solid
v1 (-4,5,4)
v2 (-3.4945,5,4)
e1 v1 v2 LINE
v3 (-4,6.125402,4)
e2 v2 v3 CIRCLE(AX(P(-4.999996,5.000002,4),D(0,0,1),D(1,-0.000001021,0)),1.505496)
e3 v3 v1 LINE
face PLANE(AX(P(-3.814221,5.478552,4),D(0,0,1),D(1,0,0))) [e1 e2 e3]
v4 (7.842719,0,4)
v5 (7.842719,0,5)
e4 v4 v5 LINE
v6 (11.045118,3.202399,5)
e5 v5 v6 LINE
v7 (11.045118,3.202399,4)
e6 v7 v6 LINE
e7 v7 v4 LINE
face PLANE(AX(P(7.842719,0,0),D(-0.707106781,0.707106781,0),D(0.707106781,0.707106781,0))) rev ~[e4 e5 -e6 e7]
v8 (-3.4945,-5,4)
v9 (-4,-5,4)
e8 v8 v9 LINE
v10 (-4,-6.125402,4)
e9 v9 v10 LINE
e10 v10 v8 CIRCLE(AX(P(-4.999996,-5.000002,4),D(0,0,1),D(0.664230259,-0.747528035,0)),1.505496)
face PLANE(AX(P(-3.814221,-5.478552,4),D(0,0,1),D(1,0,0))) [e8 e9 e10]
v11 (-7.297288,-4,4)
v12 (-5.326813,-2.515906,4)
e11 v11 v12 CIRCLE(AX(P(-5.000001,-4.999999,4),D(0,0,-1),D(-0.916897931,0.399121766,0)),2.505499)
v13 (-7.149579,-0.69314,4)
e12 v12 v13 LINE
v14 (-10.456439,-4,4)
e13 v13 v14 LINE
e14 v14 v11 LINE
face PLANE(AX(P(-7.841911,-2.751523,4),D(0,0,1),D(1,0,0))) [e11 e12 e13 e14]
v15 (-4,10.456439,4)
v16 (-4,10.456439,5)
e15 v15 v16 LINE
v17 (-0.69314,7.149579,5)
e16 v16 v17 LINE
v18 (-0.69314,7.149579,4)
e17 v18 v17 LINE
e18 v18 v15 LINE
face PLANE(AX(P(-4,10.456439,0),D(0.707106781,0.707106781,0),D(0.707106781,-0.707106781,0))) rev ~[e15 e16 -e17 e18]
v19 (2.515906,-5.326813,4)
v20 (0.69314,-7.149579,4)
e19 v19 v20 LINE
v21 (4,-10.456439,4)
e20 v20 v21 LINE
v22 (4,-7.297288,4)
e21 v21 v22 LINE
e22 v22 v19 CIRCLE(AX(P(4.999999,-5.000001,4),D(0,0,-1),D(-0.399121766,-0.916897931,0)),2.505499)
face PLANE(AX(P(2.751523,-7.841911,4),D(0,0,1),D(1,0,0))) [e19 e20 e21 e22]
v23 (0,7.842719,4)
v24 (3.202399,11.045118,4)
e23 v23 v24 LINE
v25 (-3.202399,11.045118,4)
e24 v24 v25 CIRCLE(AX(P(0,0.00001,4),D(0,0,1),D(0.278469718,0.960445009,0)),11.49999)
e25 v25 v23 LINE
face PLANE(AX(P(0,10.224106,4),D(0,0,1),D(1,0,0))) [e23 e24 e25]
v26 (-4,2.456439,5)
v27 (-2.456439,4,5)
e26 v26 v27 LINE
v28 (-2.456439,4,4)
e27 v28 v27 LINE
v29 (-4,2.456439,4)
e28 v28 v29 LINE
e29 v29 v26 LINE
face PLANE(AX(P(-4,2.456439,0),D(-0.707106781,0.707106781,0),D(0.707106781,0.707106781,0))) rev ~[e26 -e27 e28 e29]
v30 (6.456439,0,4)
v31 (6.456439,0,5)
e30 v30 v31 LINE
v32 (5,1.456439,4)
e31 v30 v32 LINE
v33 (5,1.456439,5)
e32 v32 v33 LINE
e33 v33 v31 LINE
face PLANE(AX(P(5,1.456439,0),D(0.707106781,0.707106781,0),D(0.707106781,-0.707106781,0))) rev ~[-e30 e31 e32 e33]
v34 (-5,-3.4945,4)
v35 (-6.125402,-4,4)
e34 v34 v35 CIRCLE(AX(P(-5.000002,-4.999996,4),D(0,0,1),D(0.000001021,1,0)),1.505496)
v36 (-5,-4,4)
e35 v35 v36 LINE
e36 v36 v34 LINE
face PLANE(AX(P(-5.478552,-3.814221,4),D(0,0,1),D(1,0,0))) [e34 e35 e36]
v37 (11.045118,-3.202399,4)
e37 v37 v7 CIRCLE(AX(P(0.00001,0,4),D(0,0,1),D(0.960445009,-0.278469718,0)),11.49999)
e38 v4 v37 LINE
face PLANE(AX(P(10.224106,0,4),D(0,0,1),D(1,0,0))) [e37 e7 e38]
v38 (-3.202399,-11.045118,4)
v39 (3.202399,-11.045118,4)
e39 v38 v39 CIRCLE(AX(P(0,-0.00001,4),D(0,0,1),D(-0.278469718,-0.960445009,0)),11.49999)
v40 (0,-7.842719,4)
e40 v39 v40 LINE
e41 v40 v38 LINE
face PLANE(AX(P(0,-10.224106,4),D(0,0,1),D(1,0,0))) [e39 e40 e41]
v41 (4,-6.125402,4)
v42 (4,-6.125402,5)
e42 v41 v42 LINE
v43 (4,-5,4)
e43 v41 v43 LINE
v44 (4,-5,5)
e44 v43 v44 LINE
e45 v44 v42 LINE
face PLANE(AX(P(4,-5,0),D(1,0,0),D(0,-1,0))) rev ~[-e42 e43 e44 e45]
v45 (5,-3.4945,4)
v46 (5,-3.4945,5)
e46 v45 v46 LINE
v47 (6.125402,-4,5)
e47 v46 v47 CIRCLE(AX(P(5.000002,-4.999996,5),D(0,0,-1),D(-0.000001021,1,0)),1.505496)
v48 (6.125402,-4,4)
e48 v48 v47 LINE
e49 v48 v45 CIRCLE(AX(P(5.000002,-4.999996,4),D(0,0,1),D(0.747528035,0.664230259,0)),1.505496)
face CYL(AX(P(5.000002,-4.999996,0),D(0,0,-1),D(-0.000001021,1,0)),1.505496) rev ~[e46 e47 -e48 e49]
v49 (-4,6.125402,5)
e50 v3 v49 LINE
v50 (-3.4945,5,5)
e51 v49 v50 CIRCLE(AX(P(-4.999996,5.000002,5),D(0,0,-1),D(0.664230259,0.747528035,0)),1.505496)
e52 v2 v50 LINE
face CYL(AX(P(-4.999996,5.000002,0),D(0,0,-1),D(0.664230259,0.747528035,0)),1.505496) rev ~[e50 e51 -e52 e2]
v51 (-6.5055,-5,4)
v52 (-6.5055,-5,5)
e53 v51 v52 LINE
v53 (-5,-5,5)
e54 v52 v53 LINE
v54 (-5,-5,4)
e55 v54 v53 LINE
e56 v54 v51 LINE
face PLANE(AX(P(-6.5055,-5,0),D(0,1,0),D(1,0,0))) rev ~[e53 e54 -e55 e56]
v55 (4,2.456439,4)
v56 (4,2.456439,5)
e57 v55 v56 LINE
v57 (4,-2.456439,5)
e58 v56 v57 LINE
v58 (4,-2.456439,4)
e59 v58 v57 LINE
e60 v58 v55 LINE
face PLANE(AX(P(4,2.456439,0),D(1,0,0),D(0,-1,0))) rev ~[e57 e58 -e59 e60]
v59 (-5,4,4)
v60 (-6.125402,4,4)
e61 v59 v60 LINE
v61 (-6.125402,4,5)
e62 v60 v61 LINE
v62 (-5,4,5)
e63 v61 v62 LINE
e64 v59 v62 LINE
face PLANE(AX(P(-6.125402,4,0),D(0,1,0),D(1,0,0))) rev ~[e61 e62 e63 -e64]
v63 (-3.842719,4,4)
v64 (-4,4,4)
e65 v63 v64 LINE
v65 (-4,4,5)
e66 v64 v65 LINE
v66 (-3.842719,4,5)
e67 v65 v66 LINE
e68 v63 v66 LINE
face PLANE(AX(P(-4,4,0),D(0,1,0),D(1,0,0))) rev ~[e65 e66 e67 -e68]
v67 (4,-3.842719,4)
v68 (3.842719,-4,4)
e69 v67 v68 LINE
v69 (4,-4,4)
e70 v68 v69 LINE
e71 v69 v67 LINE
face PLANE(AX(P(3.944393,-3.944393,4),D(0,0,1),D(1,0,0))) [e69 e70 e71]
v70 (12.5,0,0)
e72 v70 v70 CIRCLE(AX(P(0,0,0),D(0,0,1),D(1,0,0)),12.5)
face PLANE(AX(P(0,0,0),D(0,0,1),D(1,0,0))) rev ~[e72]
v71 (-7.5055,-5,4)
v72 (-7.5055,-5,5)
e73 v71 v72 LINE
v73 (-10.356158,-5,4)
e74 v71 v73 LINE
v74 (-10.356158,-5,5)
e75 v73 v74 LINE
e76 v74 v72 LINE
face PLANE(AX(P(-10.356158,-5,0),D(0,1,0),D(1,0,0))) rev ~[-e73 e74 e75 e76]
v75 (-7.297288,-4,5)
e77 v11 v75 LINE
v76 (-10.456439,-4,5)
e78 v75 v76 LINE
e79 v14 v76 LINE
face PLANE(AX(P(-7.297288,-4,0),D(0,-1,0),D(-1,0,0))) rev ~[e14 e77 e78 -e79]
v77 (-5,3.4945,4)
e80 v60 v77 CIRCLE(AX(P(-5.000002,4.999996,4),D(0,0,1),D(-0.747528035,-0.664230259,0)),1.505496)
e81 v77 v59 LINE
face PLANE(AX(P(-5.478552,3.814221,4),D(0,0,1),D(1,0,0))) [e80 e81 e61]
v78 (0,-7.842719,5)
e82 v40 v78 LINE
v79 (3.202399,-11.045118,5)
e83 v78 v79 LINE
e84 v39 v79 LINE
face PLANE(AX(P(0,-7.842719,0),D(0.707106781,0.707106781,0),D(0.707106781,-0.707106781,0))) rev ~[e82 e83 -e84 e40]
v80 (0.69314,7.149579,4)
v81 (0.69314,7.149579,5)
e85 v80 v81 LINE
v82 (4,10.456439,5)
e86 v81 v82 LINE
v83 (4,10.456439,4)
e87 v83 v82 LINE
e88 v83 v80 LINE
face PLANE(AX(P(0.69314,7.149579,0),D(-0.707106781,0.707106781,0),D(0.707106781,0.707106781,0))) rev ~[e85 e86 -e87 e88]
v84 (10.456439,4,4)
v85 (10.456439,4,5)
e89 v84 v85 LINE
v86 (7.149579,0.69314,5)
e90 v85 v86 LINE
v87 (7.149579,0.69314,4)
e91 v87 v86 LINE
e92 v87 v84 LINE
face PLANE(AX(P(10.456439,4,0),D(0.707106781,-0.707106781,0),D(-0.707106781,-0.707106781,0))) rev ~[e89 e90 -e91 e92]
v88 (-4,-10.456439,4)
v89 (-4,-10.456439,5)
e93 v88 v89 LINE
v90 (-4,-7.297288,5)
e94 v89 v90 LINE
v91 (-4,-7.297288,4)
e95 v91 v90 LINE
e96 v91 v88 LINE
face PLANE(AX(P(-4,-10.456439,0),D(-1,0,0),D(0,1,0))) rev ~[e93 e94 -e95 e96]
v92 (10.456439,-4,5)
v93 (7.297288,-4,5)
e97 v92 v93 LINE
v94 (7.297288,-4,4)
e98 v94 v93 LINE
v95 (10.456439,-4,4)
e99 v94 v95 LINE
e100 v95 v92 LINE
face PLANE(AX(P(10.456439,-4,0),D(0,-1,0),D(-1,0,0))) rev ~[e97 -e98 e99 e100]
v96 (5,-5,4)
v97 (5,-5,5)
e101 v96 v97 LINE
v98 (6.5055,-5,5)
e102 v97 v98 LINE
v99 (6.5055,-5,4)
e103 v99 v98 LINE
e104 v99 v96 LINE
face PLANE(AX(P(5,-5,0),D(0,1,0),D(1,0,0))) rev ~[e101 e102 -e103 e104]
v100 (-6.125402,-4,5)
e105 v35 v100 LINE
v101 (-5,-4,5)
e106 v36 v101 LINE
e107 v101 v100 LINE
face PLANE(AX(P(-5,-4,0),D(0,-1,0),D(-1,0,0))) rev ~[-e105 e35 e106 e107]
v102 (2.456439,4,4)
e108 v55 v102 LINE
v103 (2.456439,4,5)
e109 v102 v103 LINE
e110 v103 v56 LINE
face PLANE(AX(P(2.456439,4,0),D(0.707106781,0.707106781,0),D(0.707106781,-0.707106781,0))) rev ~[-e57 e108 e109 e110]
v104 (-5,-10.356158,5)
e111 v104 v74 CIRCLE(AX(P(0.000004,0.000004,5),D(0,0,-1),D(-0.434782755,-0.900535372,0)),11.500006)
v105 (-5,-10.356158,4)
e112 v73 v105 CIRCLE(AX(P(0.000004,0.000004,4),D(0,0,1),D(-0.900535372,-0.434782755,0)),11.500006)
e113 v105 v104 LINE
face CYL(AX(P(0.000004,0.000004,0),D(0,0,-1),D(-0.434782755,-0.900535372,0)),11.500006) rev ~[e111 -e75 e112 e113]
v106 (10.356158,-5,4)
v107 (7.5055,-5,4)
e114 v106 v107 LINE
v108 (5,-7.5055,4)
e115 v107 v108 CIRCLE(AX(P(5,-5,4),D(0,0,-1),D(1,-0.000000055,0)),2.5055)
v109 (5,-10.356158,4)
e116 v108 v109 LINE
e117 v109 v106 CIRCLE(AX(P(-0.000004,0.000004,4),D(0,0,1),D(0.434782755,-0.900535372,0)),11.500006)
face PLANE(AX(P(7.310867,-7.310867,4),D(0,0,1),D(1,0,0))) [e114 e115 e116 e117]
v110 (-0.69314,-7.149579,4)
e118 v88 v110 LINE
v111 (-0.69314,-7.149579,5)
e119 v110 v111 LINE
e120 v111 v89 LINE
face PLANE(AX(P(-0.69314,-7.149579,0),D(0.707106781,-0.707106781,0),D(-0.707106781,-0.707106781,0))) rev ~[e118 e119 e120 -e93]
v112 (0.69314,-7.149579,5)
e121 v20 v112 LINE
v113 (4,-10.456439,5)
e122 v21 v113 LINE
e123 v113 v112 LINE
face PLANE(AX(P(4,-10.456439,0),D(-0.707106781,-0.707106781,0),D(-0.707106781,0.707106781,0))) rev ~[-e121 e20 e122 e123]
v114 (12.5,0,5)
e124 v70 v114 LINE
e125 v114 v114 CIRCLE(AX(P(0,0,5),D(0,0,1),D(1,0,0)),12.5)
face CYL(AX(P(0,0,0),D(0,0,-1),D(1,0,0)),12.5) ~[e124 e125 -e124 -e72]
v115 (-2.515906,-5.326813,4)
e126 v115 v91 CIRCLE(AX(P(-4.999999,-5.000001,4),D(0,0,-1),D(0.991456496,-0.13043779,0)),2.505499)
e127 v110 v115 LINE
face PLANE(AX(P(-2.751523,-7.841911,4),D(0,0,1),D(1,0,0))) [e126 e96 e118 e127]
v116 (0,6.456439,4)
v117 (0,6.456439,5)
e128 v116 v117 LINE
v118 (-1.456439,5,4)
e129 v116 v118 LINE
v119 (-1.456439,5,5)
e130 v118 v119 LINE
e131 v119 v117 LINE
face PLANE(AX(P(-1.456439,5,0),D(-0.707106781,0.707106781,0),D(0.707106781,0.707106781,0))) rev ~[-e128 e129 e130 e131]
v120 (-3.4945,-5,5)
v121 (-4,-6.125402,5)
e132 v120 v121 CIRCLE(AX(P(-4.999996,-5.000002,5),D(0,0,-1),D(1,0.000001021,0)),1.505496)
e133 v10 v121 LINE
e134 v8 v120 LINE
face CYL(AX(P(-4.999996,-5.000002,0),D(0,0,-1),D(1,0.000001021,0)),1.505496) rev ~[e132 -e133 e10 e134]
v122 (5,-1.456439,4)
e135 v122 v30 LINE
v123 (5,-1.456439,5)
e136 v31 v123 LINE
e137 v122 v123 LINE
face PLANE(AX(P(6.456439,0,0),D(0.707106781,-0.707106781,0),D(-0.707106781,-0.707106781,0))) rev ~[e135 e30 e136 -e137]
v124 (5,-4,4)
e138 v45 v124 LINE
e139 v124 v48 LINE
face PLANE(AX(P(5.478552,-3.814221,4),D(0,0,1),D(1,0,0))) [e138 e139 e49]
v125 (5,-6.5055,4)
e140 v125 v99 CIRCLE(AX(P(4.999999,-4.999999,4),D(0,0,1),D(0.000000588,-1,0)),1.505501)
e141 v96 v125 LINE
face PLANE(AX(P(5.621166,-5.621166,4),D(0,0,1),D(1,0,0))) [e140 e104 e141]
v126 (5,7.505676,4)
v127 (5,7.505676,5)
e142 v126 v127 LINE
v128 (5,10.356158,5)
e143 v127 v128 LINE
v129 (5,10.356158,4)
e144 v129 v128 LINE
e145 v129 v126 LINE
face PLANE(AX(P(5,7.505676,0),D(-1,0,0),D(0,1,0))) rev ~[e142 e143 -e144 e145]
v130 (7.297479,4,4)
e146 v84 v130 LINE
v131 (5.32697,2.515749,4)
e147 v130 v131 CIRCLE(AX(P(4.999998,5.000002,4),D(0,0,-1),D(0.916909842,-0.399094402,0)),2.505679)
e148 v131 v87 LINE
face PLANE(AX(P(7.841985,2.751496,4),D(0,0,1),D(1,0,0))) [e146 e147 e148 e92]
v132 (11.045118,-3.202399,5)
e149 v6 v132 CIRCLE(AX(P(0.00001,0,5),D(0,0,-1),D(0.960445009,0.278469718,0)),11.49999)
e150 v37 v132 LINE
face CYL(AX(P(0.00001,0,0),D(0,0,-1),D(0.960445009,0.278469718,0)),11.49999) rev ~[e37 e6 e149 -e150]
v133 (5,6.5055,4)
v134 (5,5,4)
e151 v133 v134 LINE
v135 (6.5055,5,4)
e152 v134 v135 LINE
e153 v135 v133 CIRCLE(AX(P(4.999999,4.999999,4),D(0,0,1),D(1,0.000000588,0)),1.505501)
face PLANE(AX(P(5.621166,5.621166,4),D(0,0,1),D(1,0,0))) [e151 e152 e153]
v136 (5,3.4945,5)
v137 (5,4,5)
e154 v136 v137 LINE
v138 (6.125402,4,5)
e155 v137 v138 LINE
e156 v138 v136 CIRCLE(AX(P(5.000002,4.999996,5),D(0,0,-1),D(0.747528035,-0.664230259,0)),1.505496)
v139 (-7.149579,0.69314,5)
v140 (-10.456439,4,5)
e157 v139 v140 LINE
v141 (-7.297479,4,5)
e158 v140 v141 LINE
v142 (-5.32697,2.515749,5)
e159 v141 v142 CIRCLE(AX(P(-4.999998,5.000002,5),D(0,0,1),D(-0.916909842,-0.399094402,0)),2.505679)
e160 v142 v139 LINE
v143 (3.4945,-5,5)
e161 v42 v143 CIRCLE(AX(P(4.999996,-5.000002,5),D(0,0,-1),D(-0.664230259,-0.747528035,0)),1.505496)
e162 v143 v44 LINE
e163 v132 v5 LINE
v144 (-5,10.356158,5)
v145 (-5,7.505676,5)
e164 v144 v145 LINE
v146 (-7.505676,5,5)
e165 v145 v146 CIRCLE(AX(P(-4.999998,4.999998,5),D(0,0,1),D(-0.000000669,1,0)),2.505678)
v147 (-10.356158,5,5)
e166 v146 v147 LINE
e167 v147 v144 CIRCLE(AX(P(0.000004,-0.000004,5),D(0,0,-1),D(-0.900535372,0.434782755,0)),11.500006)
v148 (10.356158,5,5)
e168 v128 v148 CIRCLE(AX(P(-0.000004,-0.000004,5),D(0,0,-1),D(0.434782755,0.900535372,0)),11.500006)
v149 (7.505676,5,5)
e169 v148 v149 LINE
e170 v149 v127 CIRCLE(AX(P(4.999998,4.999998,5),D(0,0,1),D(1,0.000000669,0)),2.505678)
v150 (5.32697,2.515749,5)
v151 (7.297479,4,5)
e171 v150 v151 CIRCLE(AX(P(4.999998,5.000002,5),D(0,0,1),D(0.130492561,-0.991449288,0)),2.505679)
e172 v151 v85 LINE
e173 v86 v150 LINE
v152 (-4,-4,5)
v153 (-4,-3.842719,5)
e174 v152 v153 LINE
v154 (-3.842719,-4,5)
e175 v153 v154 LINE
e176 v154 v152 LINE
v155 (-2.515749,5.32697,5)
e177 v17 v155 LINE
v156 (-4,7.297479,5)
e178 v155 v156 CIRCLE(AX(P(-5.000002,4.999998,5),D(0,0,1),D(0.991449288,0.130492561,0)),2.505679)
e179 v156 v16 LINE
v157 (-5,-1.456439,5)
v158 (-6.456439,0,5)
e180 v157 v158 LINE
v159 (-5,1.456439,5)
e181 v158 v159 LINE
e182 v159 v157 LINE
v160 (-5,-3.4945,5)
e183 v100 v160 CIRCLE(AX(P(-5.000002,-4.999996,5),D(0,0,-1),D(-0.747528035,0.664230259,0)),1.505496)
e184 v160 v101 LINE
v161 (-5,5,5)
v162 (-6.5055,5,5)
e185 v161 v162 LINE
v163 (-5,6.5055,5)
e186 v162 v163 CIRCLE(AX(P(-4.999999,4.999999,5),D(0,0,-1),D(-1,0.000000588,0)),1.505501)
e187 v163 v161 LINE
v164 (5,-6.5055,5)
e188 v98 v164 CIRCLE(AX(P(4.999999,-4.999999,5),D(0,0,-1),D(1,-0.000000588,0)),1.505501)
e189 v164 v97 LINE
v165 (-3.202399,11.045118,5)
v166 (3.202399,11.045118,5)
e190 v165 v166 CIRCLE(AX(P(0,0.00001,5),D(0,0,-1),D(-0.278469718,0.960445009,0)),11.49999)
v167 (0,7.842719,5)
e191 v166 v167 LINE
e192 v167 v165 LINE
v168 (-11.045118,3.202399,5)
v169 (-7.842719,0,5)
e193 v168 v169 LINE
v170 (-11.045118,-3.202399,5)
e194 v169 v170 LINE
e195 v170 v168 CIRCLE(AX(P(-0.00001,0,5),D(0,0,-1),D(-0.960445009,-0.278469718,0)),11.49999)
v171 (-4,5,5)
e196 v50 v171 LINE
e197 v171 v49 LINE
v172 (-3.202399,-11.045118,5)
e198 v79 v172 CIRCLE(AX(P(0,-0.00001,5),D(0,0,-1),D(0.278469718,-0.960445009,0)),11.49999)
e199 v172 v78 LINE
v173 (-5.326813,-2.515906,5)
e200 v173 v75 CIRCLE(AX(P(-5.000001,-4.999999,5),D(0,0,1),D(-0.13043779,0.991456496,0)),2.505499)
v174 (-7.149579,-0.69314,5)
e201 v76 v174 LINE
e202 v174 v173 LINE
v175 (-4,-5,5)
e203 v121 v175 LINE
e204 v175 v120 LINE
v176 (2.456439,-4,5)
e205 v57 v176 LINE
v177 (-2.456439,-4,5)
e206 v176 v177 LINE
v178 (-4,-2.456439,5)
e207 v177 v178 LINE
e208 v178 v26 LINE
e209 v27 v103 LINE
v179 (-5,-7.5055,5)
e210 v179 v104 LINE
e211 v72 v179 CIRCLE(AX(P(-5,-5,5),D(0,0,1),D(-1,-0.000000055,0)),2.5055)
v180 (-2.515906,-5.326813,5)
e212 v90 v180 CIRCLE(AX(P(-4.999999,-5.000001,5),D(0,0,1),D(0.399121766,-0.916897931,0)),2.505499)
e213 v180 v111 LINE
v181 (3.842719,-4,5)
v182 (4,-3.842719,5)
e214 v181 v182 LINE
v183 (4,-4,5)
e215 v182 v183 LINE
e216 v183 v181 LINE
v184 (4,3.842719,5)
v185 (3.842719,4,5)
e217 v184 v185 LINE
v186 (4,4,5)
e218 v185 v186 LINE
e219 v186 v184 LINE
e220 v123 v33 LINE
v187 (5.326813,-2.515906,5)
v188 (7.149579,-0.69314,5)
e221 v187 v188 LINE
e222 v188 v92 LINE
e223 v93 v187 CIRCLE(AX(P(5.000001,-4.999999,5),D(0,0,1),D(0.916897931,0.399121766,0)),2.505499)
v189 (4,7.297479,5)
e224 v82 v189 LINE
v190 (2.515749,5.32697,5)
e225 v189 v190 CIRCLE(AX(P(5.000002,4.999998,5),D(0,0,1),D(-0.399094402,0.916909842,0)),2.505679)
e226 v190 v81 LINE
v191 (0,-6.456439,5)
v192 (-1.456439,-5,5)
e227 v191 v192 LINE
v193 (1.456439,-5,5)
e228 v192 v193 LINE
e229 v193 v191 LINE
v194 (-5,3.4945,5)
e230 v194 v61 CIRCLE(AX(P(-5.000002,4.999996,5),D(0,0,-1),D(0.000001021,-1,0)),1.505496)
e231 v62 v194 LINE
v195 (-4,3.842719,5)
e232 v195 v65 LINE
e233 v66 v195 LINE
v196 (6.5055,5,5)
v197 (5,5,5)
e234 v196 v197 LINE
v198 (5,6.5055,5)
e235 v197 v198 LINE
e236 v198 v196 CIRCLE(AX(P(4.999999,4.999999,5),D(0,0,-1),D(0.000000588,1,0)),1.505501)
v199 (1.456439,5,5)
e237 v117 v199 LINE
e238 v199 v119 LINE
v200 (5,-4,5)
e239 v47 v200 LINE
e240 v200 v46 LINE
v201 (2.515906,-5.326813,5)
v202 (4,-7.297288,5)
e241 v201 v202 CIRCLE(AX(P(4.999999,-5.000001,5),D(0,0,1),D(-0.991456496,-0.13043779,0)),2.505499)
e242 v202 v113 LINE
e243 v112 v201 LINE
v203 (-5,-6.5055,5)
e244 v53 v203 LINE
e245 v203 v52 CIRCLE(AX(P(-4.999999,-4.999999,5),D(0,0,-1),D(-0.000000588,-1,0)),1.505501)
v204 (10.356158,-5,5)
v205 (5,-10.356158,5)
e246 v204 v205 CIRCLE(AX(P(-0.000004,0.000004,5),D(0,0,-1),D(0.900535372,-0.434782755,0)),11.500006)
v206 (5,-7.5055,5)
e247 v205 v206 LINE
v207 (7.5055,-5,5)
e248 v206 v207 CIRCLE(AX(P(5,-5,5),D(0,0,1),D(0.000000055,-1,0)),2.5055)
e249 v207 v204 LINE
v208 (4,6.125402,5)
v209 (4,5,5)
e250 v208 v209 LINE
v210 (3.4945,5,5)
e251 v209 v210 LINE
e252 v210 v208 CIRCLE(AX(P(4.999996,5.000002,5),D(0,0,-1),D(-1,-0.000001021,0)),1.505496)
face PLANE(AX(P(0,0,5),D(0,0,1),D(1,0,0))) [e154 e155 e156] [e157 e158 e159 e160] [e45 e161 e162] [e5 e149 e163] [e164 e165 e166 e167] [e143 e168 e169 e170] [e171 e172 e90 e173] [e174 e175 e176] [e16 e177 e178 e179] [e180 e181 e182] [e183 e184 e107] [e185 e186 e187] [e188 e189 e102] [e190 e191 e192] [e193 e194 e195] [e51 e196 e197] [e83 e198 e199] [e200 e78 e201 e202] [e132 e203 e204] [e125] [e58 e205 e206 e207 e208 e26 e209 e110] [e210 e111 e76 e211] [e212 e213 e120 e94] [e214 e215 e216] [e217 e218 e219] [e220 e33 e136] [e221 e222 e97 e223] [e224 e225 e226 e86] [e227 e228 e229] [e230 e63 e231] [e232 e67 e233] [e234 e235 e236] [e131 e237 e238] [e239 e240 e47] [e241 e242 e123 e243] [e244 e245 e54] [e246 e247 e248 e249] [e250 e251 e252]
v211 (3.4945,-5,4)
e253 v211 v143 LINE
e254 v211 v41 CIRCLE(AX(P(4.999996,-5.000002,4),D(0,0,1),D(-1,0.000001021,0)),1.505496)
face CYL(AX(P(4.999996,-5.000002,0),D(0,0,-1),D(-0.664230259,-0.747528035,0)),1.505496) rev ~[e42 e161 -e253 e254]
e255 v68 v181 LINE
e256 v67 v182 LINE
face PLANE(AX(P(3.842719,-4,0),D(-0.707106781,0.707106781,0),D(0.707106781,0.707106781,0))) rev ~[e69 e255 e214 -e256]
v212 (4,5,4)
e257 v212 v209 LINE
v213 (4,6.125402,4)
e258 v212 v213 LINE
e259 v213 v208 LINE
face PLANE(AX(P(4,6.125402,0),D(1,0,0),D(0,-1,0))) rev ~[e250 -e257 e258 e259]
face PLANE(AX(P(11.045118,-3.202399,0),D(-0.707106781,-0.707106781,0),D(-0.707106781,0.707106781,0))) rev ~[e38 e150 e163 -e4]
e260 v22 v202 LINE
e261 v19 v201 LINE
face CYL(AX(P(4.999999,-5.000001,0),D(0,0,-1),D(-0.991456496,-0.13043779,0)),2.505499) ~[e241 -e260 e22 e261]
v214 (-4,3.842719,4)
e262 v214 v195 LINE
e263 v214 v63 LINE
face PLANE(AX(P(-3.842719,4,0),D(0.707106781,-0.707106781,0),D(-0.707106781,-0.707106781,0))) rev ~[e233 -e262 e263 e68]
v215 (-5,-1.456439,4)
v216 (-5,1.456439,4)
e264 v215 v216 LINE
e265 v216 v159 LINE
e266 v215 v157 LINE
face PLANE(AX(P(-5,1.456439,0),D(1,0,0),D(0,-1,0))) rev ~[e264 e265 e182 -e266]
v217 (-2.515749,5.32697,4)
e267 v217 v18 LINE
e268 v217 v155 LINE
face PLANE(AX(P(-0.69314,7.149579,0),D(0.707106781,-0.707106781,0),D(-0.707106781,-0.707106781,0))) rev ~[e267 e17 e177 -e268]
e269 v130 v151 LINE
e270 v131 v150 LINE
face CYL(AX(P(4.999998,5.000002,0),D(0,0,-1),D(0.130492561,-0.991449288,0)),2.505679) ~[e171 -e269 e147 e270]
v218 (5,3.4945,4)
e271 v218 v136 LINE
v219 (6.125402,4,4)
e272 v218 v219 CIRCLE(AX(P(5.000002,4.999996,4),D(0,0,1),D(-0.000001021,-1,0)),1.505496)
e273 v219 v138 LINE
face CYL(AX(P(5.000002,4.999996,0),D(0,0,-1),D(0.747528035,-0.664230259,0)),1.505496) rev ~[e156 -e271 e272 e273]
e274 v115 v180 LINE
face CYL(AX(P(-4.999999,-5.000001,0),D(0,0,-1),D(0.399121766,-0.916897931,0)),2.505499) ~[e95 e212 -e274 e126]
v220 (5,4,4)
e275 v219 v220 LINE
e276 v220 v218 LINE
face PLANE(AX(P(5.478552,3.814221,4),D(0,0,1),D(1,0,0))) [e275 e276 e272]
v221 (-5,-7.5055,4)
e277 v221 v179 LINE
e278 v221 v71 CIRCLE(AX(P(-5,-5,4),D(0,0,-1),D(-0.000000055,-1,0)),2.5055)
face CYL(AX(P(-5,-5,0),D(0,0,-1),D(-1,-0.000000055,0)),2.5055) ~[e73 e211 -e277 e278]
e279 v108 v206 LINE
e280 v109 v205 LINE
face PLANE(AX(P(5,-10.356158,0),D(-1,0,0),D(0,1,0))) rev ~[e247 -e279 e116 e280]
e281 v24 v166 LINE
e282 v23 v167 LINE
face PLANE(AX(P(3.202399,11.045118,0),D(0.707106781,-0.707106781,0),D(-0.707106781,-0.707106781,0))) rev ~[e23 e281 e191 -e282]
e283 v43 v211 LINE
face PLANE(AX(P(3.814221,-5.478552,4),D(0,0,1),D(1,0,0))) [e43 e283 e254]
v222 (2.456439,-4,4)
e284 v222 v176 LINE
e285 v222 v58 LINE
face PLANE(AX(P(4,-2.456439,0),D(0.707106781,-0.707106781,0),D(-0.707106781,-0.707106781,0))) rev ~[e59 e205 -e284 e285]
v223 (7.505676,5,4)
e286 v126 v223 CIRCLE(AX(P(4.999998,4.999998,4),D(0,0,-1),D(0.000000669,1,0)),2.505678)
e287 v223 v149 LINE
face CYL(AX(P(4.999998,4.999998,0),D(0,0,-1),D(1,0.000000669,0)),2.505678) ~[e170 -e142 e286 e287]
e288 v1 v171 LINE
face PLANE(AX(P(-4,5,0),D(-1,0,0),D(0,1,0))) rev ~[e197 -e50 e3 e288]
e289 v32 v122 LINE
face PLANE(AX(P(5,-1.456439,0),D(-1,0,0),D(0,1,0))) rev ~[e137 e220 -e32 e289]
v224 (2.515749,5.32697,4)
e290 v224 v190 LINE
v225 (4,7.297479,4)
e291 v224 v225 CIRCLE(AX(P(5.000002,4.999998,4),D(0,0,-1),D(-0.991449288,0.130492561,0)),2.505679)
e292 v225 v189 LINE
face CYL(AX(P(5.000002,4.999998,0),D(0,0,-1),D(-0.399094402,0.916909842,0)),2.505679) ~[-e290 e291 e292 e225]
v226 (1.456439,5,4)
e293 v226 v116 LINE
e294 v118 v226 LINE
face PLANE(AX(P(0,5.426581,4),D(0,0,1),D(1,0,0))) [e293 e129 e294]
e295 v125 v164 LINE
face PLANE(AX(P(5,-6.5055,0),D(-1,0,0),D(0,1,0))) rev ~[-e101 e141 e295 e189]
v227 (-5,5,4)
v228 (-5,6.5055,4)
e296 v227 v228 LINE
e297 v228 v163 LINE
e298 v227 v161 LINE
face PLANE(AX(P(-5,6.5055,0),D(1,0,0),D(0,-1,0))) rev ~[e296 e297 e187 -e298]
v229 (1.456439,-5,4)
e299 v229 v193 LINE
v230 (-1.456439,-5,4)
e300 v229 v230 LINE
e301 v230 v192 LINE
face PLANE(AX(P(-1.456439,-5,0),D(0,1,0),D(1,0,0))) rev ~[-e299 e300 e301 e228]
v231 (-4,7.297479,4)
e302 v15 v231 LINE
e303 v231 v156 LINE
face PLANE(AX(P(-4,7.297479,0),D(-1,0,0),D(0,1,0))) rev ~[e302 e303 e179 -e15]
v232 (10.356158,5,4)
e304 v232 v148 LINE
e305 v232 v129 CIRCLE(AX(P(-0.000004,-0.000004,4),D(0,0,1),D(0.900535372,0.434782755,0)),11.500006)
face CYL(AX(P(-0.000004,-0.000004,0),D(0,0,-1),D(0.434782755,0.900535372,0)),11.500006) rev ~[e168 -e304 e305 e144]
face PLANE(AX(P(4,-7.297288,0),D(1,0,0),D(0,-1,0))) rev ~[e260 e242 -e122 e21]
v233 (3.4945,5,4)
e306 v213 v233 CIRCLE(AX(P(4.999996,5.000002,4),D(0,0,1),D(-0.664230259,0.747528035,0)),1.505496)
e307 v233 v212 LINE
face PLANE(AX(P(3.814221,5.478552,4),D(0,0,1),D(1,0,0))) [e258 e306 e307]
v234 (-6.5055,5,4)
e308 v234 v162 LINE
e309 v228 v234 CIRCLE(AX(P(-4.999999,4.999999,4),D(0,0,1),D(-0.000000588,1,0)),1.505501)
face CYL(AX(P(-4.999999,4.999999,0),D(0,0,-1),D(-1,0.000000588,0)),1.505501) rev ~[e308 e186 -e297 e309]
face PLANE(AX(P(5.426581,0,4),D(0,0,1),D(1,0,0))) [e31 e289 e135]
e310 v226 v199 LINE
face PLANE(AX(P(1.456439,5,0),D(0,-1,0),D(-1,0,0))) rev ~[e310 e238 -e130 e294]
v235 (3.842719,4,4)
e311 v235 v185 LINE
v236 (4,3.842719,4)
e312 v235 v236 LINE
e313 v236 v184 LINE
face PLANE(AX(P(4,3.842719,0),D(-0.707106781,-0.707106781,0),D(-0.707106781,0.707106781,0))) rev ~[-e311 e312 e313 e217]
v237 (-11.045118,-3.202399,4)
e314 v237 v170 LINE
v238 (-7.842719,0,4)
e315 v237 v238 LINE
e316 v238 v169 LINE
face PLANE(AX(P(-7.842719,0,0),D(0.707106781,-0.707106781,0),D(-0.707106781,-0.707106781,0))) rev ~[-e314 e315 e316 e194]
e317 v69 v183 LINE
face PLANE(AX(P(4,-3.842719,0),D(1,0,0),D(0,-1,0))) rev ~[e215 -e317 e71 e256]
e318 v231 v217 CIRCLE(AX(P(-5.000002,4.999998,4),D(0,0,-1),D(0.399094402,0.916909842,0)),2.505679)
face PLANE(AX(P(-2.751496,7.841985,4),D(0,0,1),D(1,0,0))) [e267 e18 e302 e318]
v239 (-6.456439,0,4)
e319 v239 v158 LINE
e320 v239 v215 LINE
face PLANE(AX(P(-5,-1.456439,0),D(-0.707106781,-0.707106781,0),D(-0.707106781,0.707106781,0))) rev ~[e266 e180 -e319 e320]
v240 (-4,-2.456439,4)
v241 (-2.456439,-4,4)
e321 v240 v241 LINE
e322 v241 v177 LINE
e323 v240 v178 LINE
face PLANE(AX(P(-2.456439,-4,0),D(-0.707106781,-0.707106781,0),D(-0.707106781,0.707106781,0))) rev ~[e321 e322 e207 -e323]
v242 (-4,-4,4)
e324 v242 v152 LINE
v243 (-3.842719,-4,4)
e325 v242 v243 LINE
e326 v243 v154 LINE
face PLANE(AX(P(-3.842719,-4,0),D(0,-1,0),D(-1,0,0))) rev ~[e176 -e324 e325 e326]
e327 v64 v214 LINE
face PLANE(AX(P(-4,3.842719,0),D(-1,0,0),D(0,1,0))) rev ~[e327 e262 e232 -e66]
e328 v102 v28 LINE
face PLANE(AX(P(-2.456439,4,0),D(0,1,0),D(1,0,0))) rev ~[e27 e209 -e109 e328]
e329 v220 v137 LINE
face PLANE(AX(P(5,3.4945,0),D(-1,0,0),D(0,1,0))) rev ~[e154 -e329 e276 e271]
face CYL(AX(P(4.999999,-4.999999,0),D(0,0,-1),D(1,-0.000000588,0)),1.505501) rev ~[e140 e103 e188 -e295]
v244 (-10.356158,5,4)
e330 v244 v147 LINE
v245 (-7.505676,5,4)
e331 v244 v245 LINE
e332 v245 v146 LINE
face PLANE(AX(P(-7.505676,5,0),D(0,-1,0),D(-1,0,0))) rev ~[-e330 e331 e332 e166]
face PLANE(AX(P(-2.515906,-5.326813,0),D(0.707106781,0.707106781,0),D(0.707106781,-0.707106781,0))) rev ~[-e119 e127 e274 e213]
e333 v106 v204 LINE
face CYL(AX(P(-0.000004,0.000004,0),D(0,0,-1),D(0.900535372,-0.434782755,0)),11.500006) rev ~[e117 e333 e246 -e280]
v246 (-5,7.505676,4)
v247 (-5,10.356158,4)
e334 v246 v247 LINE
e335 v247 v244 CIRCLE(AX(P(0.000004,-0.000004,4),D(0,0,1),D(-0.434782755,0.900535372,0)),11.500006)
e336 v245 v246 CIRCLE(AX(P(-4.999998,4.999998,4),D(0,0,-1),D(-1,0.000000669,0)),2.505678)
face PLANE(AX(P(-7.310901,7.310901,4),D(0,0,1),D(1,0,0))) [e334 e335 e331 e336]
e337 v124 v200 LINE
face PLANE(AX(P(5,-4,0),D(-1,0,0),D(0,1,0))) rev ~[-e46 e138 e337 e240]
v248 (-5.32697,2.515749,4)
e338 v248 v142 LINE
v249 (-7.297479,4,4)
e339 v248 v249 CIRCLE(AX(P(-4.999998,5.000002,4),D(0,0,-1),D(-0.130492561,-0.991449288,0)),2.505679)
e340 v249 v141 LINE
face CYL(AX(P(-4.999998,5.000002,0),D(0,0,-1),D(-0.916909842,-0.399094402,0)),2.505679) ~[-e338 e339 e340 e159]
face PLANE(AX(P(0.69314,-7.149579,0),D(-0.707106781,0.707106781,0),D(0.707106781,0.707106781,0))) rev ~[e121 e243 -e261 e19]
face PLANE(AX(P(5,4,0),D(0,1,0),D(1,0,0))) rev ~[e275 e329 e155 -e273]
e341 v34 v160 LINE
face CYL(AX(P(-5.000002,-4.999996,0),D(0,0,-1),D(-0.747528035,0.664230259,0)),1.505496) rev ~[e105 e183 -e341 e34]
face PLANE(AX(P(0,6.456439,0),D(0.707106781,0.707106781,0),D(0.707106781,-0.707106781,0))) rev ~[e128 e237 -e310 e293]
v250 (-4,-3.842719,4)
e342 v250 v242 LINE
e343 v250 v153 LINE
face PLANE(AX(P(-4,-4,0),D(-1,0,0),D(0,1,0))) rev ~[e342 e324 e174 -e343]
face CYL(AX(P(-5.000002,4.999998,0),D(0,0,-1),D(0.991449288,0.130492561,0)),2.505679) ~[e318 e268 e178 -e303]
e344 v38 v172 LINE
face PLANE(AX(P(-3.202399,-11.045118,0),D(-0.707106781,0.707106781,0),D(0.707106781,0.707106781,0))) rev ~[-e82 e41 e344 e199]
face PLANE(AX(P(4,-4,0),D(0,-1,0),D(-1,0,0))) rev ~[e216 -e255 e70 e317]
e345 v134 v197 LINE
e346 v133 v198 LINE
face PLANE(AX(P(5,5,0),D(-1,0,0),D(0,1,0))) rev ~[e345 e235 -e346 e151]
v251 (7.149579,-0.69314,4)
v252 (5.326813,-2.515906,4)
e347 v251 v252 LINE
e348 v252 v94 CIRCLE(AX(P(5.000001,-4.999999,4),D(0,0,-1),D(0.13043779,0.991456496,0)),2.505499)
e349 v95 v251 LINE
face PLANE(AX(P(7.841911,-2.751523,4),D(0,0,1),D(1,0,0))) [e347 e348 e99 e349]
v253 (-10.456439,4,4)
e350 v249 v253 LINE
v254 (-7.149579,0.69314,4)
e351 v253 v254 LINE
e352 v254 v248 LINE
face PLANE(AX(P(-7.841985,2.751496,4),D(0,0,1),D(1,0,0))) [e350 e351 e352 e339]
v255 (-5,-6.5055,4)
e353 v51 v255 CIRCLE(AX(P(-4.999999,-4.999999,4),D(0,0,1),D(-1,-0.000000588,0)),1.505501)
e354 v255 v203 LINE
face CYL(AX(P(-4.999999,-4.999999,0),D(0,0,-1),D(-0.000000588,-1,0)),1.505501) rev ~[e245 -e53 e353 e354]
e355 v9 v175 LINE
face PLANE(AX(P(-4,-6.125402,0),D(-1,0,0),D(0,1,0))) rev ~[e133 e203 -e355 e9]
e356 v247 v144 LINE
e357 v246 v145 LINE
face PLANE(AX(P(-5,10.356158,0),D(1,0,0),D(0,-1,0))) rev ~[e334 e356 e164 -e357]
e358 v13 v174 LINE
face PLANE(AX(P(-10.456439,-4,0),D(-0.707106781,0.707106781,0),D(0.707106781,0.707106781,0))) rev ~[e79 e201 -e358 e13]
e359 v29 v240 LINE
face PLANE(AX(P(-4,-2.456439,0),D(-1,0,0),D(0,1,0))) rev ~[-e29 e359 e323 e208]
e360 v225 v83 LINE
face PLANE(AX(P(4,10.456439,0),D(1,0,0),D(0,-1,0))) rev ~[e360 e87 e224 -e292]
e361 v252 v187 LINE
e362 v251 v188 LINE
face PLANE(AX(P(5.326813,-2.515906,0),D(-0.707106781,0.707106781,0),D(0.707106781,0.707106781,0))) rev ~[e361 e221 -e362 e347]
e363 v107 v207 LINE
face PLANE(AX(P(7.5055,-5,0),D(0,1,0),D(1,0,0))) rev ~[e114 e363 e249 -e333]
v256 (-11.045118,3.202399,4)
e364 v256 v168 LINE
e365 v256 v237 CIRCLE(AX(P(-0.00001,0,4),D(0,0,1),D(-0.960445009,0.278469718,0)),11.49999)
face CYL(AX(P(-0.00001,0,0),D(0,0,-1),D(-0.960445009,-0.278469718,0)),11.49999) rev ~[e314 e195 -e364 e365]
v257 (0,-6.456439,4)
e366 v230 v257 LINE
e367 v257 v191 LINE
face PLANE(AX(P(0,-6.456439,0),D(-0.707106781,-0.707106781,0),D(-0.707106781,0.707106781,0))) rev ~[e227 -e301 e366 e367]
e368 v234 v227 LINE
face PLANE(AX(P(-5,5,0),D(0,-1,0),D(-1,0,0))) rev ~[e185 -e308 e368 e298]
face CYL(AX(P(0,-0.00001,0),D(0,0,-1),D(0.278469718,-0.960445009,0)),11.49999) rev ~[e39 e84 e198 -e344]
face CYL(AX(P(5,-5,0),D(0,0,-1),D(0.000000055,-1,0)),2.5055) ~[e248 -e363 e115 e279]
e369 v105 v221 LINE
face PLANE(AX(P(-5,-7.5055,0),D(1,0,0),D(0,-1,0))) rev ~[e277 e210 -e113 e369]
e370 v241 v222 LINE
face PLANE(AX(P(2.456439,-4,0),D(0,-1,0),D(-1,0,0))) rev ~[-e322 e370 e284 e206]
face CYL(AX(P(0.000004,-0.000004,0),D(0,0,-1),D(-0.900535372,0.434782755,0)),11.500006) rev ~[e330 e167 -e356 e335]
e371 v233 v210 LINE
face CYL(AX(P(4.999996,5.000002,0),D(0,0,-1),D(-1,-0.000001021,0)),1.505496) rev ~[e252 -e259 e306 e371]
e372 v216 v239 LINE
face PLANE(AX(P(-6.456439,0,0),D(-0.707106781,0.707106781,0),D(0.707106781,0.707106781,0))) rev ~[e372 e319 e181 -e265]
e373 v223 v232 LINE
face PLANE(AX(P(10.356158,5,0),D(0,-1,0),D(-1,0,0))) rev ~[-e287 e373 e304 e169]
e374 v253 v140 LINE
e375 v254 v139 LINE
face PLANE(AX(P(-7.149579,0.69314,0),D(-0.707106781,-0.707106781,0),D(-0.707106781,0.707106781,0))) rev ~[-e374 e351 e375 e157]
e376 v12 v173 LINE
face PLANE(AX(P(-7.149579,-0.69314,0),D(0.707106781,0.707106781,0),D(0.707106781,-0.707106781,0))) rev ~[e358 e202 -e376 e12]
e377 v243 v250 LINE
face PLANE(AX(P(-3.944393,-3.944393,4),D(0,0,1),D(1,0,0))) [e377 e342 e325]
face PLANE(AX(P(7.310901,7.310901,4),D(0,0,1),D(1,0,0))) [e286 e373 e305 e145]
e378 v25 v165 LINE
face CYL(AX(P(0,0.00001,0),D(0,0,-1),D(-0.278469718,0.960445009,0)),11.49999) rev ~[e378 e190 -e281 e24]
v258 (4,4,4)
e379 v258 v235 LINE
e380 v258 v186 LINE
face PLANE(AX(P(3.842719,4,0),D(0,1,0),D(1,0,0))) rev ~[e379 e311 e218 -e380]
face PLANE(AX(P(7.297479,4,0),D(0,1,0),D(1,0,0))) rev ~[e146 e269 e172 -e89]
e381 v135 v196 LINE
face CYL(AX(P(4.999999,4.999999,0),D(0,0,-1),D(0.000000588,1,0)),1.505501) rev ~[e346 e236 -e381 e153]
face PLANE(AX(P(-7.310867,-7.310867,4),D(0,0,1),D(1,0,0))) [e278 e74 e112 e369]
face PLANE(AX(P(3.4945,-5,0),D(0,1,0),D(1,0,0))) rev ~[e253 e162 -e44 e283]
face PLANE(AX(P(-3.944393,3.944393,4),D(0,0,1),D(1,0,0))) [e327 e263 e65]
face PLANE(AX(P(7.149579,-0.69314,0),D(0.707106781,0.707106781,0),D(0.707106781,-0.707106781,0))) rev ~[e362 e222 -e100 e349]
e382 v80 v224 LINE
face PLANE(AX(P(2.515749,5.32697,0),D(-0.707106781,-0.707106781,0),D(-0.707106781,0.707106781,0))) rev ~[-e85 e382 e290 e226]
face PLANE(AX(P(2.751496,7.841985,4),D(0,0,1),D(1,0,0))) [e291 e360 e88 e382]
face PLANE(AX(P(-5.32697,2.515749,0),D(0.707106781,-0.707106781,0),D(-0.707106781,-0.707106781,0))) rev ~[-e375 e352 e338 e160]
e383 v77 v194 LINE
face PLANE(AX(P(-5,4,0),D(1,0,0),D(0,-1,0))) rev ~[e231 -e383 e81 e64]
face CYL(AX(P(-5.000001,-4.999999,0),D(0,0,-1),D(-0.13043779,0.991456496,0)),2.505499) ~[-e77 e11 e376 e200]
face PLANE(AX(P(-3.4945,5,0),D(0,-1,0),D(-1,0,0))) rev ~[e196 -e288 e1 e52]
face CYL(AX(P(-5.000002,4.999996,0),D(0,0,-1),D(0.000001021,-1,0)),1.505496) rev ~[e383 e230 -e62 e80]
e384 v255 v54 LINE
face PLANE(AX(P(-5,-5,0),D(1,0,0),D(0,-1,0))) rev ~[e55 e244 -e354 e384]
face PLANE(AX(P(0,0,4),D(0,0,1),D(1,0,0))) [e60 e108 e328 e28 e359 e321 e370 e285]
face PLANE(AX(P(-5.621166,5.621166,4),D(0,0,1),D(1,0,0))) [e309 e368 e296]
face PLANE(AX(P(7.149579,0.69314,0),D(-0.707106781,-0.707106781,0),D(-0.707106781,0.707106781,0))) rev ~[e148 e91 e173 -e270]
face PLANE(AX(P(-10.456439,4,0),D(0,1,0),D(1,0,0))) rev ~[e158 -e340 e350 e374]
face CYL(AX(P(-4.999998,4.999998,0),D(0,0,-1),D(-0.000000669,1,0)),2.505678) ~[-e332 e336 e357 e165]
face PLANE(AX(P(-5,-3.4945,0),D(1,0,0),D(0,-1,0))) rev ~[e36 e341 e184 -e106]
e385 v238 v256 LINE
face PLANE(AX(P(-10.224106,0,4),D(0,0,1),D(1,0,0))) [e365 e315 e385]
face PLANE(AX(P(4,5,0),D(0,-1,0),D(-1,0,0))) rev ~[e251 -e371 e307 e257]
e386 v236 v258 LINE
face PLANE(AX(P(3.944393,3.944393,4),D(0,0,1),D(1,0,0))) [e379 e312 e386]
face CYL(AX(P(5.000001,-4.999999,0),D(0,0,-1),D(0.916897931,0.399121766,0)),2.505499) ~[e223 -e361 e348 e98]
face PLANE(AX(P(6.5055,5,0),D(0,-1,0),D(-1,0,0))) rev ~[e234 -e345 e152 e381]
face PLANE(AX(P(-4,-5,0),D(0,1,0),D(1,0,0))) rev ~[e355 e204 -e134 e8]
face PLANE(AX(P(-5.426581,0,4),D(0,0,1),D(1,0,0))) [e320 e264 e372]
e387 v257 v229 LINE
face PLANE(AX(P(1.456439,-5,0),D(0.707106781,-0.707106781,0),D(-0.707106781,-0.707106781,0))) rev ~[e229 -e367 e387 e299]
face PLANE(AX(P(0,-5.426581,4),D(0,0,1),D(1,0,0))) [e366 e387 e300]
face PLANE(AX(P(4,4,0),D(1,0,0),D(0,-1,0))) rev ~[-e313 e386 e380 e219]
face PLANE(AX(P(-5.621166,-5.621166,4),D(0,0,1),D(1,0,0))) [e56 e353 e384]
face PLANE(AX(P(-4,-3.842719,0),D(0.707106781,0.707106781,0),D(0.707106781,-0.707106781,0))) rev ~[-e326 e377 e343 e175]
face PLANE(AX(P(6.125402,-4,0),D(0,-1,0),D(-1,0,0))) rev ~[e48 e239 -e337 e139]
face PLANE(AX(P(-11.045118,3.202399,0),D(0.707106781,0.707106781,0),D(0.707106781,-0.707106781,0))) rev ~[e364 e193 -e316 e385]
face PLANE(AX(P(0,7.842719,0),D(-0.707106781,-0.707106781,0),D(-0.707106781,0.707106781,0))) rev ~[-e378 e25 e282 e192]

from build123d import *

# Parameters (mm, degrees)
F0_R     = 12.5
F1_DEPTH = 5
F2_DEPTH = 4


with BuildPart() as f1:
    # F0 (on Top) → F1 (new body)
    with BuildSketch(Plane.XY):
        Circle(F0_R)
        with BuildLine():
            Line((-10.356158, -5), (-7.5055, -5))
            ThreePointArc((-7.5055, -5), (-6.771656, -6.771656), (-5, -7.5055))
            Line((-5, -7.5055), (-5, -10.356158))
            ThreePointArc((-5, -10.356158), (-8.131728, -8.131728), (-10.356158, -5))
        make_face(mode=Mode.SUBTRACT)
        with BuildLine():
            Line((-3.202399, -11.045118), (0, -7.842719))
            Line((0, -7.842719), (3.202399, -11.045118))
            ThreePointArc((3.202399, -11.045118), (0, -11.5), (-3.202399, -11.045118))
        make_face(mode=Mode.SUBTRACT)
        with BuildLine():
            Line((-0.69314, -7.149579), (-4, -10.456439))
            Line((-4, -10.456439), (-4, -7.297288))
            ThreePointArc((-4, -7.297288), (-2.998645, -6.507352), (-2.515906, -5.326813))
            Line((-2.515906, -5.326813), (-0.69314, -7.149579))
        make_face(mode=Mode.SUBTRACT)
        with BuildLine():
            Line((-7.297288, -4), (-10.456439, -4))
            Line((-10.456439, -4), (-7.149579, -0.69314))
            Line((-7.149579, -0.69314), (-5.326813, -2.515906))
            ThreePointArc((-5.326813, -2.515906), (-6.507352, -2.998645), (-7.297288, -4))
        make_face(mode=Mode.SUBTRACT)
        with BuildLine():
            Line((-6.5055, -5), (-5, -5))
            Line((-5, -5), (-5, -6.5055))
            ThreePointArc((-5, -6.5055), (-6.064549, -6.064549), (-6.5055, -5))
        make_face(mode=Mode.SUBTRACT)
        with BuildLine():
            Line((-4, -6.125402), (-4, -5))
            Line((-4, -5), (-3.4945, -5))
            ThreePointArc((-3.4945, -5), (-3.626677, -5.616859), (-4, -6.125402))
        make_face(mode=Mode.SUBTRACT)
        with BuildLine():
            ThreePointArc((-6.125402, -4), (-5.616859, -3.626677), (-5, -3.4945))
            Line((-5, -3.4945), (-5, -4))
            Line((-5, -4), (-6.125402, -4))
        make_face(mode=Mode.SUBTRACT)
        Polygon((-3.842719, -4), (-4, -4), (-4, -3.842719), align=None, mode=Mode.SUBTRACT)
        with BuildLine():
            Line((4, -7.297288), (4, -10.456439))
            Line((4, -10.456439), (0.69314, -7.149579))
            Line((0.69314, -7.149579), (2.515906, -5.326813))
            ThreePointArc((2.515906, -5.326813), (2.998645, -6.507352), (4, -7.297288))
        make_face(mode=Mode.SUBTRACT)
        with BuildLine():
            ThreePointArc((5, -7.5055), (6.771656, -6.771656), (7.5055, -5))
            Line((7.5055, -5), (10.356158, -5))
            ThreePointArc((10.356158, -5), (8.131728, -8.131728), (5, -10.356158))
            Line((5, -10.356158), (5, -7.5055))
        make_face(mode=Mode.SUBTRACT)
        Polygon((-1.456439, -5), (0, -5), (1.456439, -5), (0, -6.456439), align=None, mode=Mode.SUBTRACT)
        with BuildLine():
            Line((3.4945, -5), (4, -5))
            Line((4, -5), (4, -6.125402))
            ThreePointArc((4, -6.125402), (3.626677, -5.616859), (3.4945, -5))
        make_face(mode=Mode.SUBTRACT)
        with BuildLine():
            Line((5, -6.5055), (5, -5))
            Line((5, -5), (6.5055, -5))
            ThreePointArc((6.5055, -5), (6.064549, -6.064549), (5, -6.5055))
        make_face(mode=Mode.SUBTRACT)
        Polygon((4, -4), (3.842719, -4), (4, -3.842719), align=None, mode=Mode.SUBTRACT)
        with BuildLine():
            Line((6.125402, -4), (5, -4))
            Line((5, -4), (5, -3.4945))
            ThreePointArc((5, -3.4945), (5.616859, -3.626677), (6.125402, -4))
        make_face(mode=Mode.SUBTRACT)
        with BuildLine():
            Line((7.149579, -0.69314), (10.456439, -4))
            Line((10.456439, -4), (7.297288, -4))
            ThreePointArc((7.297288, -4), (6.507352, -2.998645), (5.326813, -2.515906))
            Line((5.326813, -2.515906), (7.149579, -0.69314))
        make_face(mode=Mode.SUBTRACT)
        with BuildLine():
            Line((7.842719, 0), (11.045118, 3.202399))
            ThreePointArc((11.045118, 3.202399), (11.5, 0), (11.045118, -3.202399))
            Line((11.045118, -3.202399), (7.842719, 0))
        make_face(mode=Mode.SUBTRACT)
        with BuildLine():
            Line((-7.842719, 0), (-11.045118, -3.202399))
            ThreePointArc((-11.045118, -3.202399), (-11.5, 0), (-11.045118, 3.202399))
            Line((-11.045118, 3.202399), (-7.842719, 0))
        make_face(mode=Mode.SUBTRACT)
        with BuildLine():
            Line((-5.32697, 2.515749), (-7.149579, 0.69314))
            Line((-7.149579, 0.69314), (-10.456439, 4))
            Line((-10.456439, 4), (-7.297479, 4))
            ThreePointArc((-7.297479, 4), (-6.507542, 2.998569), (-5.32697, 2.515749))
        make_face(mode=Mode.SUBTRACT)
        Polygon((-6.456439, 0), (-5, 1.456439), (-5, -1.456439), align=None, mode=Mode.SUBTRACT)
        with BuildLine():
            Line((-6.125402, 4), (-5, 4))
            Line((-5, 4), (-5, 3.4945))
            ThreePointArc((-5, 3.4945), (-5.616859, 3.626677), (-6.125402, 4))
        make_face(mode=Mode.SUBTRACT)
        Polygon((-4, 4), (-3.842719, 4), (-4, 3.842719), align=None, mode=Mode.SUBTRACT)
        with BuildLine():
            Line((-5, 6.5055), (-5, 5))
            Line((-5, 5), (-6.5055, 5))
            ThreePointArc((-6.5055, 5), (-6.064549, 6.064549), (-5, 6.5055))
        make_face(mode=Mode.SUBTRACT)
        with BuildLine():
            ThreePointArc((-4, 6.125402), (-3.626677, 5.616859), (-3.4945, 5))
            Line((-3.4945, 5), (-4, 5))
            Line((-4, 5), (-4, 6.125402))
        make_face(mode=Mode.SUBTRACT)
        with BuildLine():
            ThreePointArc((-10.356158, 5), (-8.131728, 8.131728), (-5, 10.356158))
            Line((-5, 10.356158), (-5, 7.505676))
            ThreePointArc((-5, 7.505676), (-6.77178, 6.77178), (-7.505676, 5))
            Line((-7.505676, 5), (-10.356158, 5))
        make_face(mode=Mode.SUBTRACT)
        with BuildLine():
            Line((-4, 7.297479), (-4, 10.456439))
            Line((-4, 10.456439), (-0.69314, 7.149579))
            Line((-0.69314, 7.149579), (-2.515749, 5.32697))
            ThreePointArc((-2.515749, 5.32697), (-2.998569, 6.507542), (-4, 7.297479))
        make_face(mode=Mode.SUBTRACT)
        Polygon((-4, -2.456439), (-4, 2.456439), (-2.456439, 4), (2.456439, 4), (4, 2.456439), (4, -2.456439), (2.456439, -4), (-2.456439, -4), align=None, mode=Mode.SUBTRACT)
        Polygon((5, -1.456439), (5, 0), (5, 1.456439), (6.456439, 0), align=None, mode=Mode.SUBTRACT)
        Polygon((1.456439, 5), (0, 5), (-1.456439, 5), (0, 6.456439), align=None, mode=Mode.SUBTRACT)
        Polygon((3.842719, 4), (4, 4), (4, 3.842719), align=None, mode=Mode.SUBTRACT)
        with BuildLine():
            ThreePointArc((6.125402, 4), (5.616859, 3.626677), (5, 3.4945))
            Line((5, 3.4945), (5, 4))
            Line((5, 4), (6.125402, 4))
        make_face(mode=Mode.SUBTRACT)
        with BuildLine():
            Line((4, 5), (3.4945, 5))
            ThreePointArc((3.4945, 5), (3.626677, 5.616859), (4, 6.125402))
            Line((4, 6.125402), (4, 5))
        make_face(mode=Mode.SUBTRACT)
        with BuildLine():
            Line((6.5055, 5), (5, 5))
            Line((5, 5), (5, 6.5055))
            ThreePointArc((5, 6.5055), (6.064549, 6.064549), (6.5055, 5))
        make_face(mode=Mode.SUBTRACT)
        with BuildLine():
            Line((7.297479, 4), (10.456439, 4))
            Line((10.456439, 4), (7.149579, 0.69314))
            Line((7.149579, 0.69314), (5.32697, 2.515749))
            ThreePointArc((5.32697, 2.515749), (6.507542, 2.998569), (7.297479, 4))
        make_face(mode=Mode.SUBTRACT)
        with BuildLine():
            Line((0.69314, 7.149579), (4, 10.456439))
            Line((4, 10.456439), (4, 7.297479))
            ThreePointArc((4, 7.297479), (2.998569, 6.507542), (2.515749, 5.32697))
            Line((2.515749, 5.32697), (0.69314, 7.149579))
        make_face(mode=Mode.SUBTRACT)
        with BuildLine():
            Line((0, 7.842719), (-3.202399, 11.045118))
            ThreePointArc((-3.202399, 11.045118), (0, 11.5), (3.202399, 11.045118))
            Line((3.202399, 11.045118), (0, 7.842719))
        make_face(mode=Mode.SUBTRACT)
        with BuildLine():
            ThreePointArc((7.505676, 5), (6.77178, 6.77178), (5, 7.505676))
            Line((5, 7.505676), (5, 10.356158))
            ThreePointArc((5, 10.356158), (8.131728, 8.131728), (10.356158, 5))
            Line((10.356158, 5), (7.505676, 5))
        make_face(mode=Mode.SUBTRACT)
    extrude(amount=F1_DEPTH)

    # F0 (on Top) → F2 (join)
    with BuildSketch(Plane.XY):
        Polygon((-2.456439, 4), (-4, 2.456439), (-4, -2.456439), (-2.456439, -4), (2.456439, -4), (4, -2.456439), (4, 2.456439), (2.456439, 4), align=None)
        Polygon((-5, -1.456439), (-5, 1.456439), (-6.456439, 0), align=None)
        with BuildLine():
            Line((-10.456439, 4), (-7.149579, 0.69314))
            Line((-7.149579, 0.69314), (-5.32697, 2.515749))
            ThreePointArc((-5.32697, 2.515749), (-6.507542, 2.998569), (-7.297479, 4))
            Line((-7.297479, 4), (-10.456439, 4))
        make_face()
        with BuildLine():
            ThreePointArc((-11.045118, 3.202399), (-11.5, 0), (-11.045118, -3.202399))
            Line((-11.045118, -3.202399), (-7.842719, 0))
            Line((-7.842719, 0), (-11.045118, 3.202399))
        make_face()
        with BuildLine():
            Line((-7.149579, -0.69314), (-10.456439, -4))
            Line((-10.456439, -4), (-7.297288, -4))
            ThreePointArc((-7.297288, -4), (-6.507352, -2.998645), (-5.326813, -2.515906))
            Line((-5.326813, -2.515906), (-7.149579, -0.69314))
        make_face()
        with BuildLine():
            ThreePointArc((-5, -7.5055), (-6.771656, -6.771656), (-7.5055, -5))
            Line((-7.5055, -5), (-10.356158, -5))
            ThreePointArc((-10.356158, -5), (-8.131728, -8.131728), (-5, -10.356158))
            Line((-5, -10.356158), (-5, -7.5055))
        make_face()
        with BuildLine():
            Line((-4, -7.297288), (-4, -10.456439))
            Line((-4, -10.456439), (-0.69314, -7.149579))
            Line((-0.69314, -7.149579), (-2.515906, -5.326813))
            ThreePointArc((-2.515906, -5.326813), (-2.998645, -6.507352), (-4, -7.297288))
        make_face()
        with BuildLine():
            Line((3.202399, -11.045118), (0, -7.842719))
            Line((0, -7.842719), (-3.202399, -11.045118))
            ThreePointArc((-3.202399, -11.045118), (0, -11.5), (3.202399, -11.045118))
        make_face()
        with BuildLine():
            Line((0.69314, -7.149579), (4, -10.456439))
            Line((4, -10.456439), (4, -7.297288))
            ThreePointArc((4, -7.297288), (2.998645, -6.507352), (2.515906, -5.326813))
            Line((2.515906, -5.326813), (0.69314, -7.149579))
        make_face()
        Polygon((1.456439, -5), (0, -5), (-1.456439, -5), (0, -6.456439), align=None)
        with BuildLine():
            Line((10.356158, -5), (7.5055, -5))
            ThreePointArc((7.5055, -5), (6.771656, -6.771656), (5, -7.5055))
            Line((5, -7.5055), (5, -10.356158))
            ThreePointArc((5, -10.356158), (8.131728, -8.131728), (10.356158, -5))
        make_face()
        with BuildLine():
            Line((7.297288, -4), (10.456439, -4))
            Line((10.456439, -4), (7.149579, -0.69314))
            Line((7.149579, -0.69314), (5.326813, -2.515906))
            ThreePointArc((5.326813, -2.515906), (6.507352, -2.998645), (7.297288, -4))
        make_face()
        with BuildLine():
            ThreePointArc((11.045118, -3.202399), (11.5, 0), (11.045118, 3.202399))
            Line((11.045118, 3.202399), (7.842719, 0))
            Line((7.842719, 0), (11.045118, -3.202399))
        make_face()
        with BuildLine():
            Line((7.149579, 0.69314), (10.456439, 4))
            Line((10.456439, 4), (7.297479, 4))
            ThreePointArc((7.297479, 4), (6.507542, 2.998569), (5.32697, 2.515749))
            Line((5.32697, 2.515749), (7.149579, 0.69314))
        make_face()
        Polygon((5, 1.456439), (5, 0), (5, -1.456439), (6.456439, 0), align=None)
        with BuildLine():
            Line((5, 10.356158), (5, 7.505676))
            ThreePointArc((5, 7.505676), (6.77178, 6.77178), (7.505676, 5))
            Line((7.505676, 5), (10.356158, 5))
            ThreePointArc((10.356158, 5), (8.131728, 8.131728), (5, 10.356158))
        make_face()
        with BuildLine():
            Line((4, 7.297479), (4, 10.456439))
            Line((4, 10.456439), (0.69314, 7.149579))
            Line((0.69314, 7.149579), (2.515749, 5.32697))
            ThreePointArc((2.515749, 5.32697), (2.998569, 6.507542), (4, 7.297479))
        make_face()
        with BuildLine():
            ThreePointArc((3.202399, 11.045118), (0, 11.5), (-3.202399, 11.045118))
            Line((-3.202399, 11.045118), (0, 7.842719))
            Line((0, 7.842719), (3.202399, 11.045118))
        make_face()
        with BuildLine():
            Line((-0.69314, 7.149579), (-4, 10.456439))
            Line((-4, 10.456439), (-4, 7.297479))
            ThreePointArc((-4, 7.297479), (-2.998569, 6.507542), (-2.515749, 5.32697))
            Line((-2.515749, 5.32697), (-0.69314, 7.149579))
        make_face()
        with BuildLine():
            Line((-5, 7.505676), (-5, 10.356158))
            ThreePointArc((-5, 10.356158), (-8.131728, 8.131728), (-10.356158, 5))
            Line((-10.356158, 5), (-7.505676, 5))
            ThreePointArc((-7.505676, 5), (-6.77178, 6.77178), (-5, 7.505676))
        make_face()
        Polygon((-1.456439, 5), (0, 5), (1.456439, 5), (0, 6.456439), align=None)
        with BuildLine():
            Line((-6.5055, 5), (-5, 5))
            Line((-5, 5), (-5, 6.5055))
            ThreePointArc((-5, 6.5055), (-6.064549, 6.064549), (-6.5055, 5))
        make_face()
        with BuildLine():
            Line((-4, 5), (-3.4945, 5))
            ThreePointArc((-3.4945, 5), (-3.626677, 5.616859), (-4, 6.125402))
            Line((-4, 6.125402), (-4, 5))
        make_face()
        with BuildLine():
            Line((-5, 3.4945), (-5, 4))
            Line((-5, 4), (-6.125402, 4))
            ThreePointArc((-6.125402, 4), (-5.616859, 3.626677), (-5, 3.4945))
        make_face()
        with BuildLine():
            Line((-5, -4), (-5, -3.4945))
            ThreePointArc((-5, -3.4945), (-5.616859, -3.626677), (-6.125402, -4))
            Line((-6.125402, -4), (-5, -4))
        make_face()
        with BuildLine():
            Line((-5, -6.5055), (-5, -5))
            Line((-5, -5), (-6.5055, -5))
            ThreePointArc((-6.5055, -5), (-6.064549, -6.064549), (-5, -6.5055))
        make_face()
        with BuildLine():
            Line((-3.4945, -5), (-4, -5))
            Line((-4, -5), (-4, -6.125402))
            ThreePointArc((-4, -6.125402), (-3.626677, -5.616859), (-3.4945, -5))
        make_face()
        with BuildLine():
            Line((5, -3.4945), (5, -4))
            Line((5, -4), (6.125402, -4))
            ThreePointArc((6.125402, -4), (5.616859, -3.626677), (5, -3.4945))
        make_face()
        with BuildLine():
            Line((6.5055, -5), (5, -5))
            Line((5, -5), (5, -6.5055))
            ThreePointArc((5, -6.5055), (6.064549, -6.064549), (6.5055, -5))
        make_face()
        with BuildLine():
            Line((4, -6.125402), (4, -5))
            Line((4, -5), (3.4945, -5))
            ThreePointArc((3.4945, -5), (3.626677, -5.616859), (4, -6.125402))
        make_face()
        with BuildLine():
            Line((5, 4), (5, 3.4945))
            ThreePointArc((5, 3.4945), (5.616859, 3.626677), (6.125402, 4))
            Line((6.125402, 4), (5, 4))
        make_face()
        with BuildLine():
            Line((5, 6.5055), (5, 5))
            Line((5, 5), (6.5055, 5))
            ThreePointArc((6.5055, 5), (6.064549, 6.064549), (5, 6.5055))
        make_face()
        with BuildLine():
            ThreePointArc((4, 6.125402), (3.626677, 5.616859), (3.4945, 5))
            Line((3.4945, 5), (4, 5))
            Line((4, 5), (4, 6.125402))
        make_face()
        Polygon((4, 3.842719), (4, 4), (3.842719, 4), align=None)
        Polygon((4, -3.842719), (3.842719, -4), (4, -4), align=None)
        Polygon((-4, -3.842719), (-4, -4), (-3.842719, -4), align=None)
        Polygon((-4, 3.842719), (-3.842719, 4), (-4, 4), align=None)
    extrude(amount=F2_DEPTH)


solid = f1.part
